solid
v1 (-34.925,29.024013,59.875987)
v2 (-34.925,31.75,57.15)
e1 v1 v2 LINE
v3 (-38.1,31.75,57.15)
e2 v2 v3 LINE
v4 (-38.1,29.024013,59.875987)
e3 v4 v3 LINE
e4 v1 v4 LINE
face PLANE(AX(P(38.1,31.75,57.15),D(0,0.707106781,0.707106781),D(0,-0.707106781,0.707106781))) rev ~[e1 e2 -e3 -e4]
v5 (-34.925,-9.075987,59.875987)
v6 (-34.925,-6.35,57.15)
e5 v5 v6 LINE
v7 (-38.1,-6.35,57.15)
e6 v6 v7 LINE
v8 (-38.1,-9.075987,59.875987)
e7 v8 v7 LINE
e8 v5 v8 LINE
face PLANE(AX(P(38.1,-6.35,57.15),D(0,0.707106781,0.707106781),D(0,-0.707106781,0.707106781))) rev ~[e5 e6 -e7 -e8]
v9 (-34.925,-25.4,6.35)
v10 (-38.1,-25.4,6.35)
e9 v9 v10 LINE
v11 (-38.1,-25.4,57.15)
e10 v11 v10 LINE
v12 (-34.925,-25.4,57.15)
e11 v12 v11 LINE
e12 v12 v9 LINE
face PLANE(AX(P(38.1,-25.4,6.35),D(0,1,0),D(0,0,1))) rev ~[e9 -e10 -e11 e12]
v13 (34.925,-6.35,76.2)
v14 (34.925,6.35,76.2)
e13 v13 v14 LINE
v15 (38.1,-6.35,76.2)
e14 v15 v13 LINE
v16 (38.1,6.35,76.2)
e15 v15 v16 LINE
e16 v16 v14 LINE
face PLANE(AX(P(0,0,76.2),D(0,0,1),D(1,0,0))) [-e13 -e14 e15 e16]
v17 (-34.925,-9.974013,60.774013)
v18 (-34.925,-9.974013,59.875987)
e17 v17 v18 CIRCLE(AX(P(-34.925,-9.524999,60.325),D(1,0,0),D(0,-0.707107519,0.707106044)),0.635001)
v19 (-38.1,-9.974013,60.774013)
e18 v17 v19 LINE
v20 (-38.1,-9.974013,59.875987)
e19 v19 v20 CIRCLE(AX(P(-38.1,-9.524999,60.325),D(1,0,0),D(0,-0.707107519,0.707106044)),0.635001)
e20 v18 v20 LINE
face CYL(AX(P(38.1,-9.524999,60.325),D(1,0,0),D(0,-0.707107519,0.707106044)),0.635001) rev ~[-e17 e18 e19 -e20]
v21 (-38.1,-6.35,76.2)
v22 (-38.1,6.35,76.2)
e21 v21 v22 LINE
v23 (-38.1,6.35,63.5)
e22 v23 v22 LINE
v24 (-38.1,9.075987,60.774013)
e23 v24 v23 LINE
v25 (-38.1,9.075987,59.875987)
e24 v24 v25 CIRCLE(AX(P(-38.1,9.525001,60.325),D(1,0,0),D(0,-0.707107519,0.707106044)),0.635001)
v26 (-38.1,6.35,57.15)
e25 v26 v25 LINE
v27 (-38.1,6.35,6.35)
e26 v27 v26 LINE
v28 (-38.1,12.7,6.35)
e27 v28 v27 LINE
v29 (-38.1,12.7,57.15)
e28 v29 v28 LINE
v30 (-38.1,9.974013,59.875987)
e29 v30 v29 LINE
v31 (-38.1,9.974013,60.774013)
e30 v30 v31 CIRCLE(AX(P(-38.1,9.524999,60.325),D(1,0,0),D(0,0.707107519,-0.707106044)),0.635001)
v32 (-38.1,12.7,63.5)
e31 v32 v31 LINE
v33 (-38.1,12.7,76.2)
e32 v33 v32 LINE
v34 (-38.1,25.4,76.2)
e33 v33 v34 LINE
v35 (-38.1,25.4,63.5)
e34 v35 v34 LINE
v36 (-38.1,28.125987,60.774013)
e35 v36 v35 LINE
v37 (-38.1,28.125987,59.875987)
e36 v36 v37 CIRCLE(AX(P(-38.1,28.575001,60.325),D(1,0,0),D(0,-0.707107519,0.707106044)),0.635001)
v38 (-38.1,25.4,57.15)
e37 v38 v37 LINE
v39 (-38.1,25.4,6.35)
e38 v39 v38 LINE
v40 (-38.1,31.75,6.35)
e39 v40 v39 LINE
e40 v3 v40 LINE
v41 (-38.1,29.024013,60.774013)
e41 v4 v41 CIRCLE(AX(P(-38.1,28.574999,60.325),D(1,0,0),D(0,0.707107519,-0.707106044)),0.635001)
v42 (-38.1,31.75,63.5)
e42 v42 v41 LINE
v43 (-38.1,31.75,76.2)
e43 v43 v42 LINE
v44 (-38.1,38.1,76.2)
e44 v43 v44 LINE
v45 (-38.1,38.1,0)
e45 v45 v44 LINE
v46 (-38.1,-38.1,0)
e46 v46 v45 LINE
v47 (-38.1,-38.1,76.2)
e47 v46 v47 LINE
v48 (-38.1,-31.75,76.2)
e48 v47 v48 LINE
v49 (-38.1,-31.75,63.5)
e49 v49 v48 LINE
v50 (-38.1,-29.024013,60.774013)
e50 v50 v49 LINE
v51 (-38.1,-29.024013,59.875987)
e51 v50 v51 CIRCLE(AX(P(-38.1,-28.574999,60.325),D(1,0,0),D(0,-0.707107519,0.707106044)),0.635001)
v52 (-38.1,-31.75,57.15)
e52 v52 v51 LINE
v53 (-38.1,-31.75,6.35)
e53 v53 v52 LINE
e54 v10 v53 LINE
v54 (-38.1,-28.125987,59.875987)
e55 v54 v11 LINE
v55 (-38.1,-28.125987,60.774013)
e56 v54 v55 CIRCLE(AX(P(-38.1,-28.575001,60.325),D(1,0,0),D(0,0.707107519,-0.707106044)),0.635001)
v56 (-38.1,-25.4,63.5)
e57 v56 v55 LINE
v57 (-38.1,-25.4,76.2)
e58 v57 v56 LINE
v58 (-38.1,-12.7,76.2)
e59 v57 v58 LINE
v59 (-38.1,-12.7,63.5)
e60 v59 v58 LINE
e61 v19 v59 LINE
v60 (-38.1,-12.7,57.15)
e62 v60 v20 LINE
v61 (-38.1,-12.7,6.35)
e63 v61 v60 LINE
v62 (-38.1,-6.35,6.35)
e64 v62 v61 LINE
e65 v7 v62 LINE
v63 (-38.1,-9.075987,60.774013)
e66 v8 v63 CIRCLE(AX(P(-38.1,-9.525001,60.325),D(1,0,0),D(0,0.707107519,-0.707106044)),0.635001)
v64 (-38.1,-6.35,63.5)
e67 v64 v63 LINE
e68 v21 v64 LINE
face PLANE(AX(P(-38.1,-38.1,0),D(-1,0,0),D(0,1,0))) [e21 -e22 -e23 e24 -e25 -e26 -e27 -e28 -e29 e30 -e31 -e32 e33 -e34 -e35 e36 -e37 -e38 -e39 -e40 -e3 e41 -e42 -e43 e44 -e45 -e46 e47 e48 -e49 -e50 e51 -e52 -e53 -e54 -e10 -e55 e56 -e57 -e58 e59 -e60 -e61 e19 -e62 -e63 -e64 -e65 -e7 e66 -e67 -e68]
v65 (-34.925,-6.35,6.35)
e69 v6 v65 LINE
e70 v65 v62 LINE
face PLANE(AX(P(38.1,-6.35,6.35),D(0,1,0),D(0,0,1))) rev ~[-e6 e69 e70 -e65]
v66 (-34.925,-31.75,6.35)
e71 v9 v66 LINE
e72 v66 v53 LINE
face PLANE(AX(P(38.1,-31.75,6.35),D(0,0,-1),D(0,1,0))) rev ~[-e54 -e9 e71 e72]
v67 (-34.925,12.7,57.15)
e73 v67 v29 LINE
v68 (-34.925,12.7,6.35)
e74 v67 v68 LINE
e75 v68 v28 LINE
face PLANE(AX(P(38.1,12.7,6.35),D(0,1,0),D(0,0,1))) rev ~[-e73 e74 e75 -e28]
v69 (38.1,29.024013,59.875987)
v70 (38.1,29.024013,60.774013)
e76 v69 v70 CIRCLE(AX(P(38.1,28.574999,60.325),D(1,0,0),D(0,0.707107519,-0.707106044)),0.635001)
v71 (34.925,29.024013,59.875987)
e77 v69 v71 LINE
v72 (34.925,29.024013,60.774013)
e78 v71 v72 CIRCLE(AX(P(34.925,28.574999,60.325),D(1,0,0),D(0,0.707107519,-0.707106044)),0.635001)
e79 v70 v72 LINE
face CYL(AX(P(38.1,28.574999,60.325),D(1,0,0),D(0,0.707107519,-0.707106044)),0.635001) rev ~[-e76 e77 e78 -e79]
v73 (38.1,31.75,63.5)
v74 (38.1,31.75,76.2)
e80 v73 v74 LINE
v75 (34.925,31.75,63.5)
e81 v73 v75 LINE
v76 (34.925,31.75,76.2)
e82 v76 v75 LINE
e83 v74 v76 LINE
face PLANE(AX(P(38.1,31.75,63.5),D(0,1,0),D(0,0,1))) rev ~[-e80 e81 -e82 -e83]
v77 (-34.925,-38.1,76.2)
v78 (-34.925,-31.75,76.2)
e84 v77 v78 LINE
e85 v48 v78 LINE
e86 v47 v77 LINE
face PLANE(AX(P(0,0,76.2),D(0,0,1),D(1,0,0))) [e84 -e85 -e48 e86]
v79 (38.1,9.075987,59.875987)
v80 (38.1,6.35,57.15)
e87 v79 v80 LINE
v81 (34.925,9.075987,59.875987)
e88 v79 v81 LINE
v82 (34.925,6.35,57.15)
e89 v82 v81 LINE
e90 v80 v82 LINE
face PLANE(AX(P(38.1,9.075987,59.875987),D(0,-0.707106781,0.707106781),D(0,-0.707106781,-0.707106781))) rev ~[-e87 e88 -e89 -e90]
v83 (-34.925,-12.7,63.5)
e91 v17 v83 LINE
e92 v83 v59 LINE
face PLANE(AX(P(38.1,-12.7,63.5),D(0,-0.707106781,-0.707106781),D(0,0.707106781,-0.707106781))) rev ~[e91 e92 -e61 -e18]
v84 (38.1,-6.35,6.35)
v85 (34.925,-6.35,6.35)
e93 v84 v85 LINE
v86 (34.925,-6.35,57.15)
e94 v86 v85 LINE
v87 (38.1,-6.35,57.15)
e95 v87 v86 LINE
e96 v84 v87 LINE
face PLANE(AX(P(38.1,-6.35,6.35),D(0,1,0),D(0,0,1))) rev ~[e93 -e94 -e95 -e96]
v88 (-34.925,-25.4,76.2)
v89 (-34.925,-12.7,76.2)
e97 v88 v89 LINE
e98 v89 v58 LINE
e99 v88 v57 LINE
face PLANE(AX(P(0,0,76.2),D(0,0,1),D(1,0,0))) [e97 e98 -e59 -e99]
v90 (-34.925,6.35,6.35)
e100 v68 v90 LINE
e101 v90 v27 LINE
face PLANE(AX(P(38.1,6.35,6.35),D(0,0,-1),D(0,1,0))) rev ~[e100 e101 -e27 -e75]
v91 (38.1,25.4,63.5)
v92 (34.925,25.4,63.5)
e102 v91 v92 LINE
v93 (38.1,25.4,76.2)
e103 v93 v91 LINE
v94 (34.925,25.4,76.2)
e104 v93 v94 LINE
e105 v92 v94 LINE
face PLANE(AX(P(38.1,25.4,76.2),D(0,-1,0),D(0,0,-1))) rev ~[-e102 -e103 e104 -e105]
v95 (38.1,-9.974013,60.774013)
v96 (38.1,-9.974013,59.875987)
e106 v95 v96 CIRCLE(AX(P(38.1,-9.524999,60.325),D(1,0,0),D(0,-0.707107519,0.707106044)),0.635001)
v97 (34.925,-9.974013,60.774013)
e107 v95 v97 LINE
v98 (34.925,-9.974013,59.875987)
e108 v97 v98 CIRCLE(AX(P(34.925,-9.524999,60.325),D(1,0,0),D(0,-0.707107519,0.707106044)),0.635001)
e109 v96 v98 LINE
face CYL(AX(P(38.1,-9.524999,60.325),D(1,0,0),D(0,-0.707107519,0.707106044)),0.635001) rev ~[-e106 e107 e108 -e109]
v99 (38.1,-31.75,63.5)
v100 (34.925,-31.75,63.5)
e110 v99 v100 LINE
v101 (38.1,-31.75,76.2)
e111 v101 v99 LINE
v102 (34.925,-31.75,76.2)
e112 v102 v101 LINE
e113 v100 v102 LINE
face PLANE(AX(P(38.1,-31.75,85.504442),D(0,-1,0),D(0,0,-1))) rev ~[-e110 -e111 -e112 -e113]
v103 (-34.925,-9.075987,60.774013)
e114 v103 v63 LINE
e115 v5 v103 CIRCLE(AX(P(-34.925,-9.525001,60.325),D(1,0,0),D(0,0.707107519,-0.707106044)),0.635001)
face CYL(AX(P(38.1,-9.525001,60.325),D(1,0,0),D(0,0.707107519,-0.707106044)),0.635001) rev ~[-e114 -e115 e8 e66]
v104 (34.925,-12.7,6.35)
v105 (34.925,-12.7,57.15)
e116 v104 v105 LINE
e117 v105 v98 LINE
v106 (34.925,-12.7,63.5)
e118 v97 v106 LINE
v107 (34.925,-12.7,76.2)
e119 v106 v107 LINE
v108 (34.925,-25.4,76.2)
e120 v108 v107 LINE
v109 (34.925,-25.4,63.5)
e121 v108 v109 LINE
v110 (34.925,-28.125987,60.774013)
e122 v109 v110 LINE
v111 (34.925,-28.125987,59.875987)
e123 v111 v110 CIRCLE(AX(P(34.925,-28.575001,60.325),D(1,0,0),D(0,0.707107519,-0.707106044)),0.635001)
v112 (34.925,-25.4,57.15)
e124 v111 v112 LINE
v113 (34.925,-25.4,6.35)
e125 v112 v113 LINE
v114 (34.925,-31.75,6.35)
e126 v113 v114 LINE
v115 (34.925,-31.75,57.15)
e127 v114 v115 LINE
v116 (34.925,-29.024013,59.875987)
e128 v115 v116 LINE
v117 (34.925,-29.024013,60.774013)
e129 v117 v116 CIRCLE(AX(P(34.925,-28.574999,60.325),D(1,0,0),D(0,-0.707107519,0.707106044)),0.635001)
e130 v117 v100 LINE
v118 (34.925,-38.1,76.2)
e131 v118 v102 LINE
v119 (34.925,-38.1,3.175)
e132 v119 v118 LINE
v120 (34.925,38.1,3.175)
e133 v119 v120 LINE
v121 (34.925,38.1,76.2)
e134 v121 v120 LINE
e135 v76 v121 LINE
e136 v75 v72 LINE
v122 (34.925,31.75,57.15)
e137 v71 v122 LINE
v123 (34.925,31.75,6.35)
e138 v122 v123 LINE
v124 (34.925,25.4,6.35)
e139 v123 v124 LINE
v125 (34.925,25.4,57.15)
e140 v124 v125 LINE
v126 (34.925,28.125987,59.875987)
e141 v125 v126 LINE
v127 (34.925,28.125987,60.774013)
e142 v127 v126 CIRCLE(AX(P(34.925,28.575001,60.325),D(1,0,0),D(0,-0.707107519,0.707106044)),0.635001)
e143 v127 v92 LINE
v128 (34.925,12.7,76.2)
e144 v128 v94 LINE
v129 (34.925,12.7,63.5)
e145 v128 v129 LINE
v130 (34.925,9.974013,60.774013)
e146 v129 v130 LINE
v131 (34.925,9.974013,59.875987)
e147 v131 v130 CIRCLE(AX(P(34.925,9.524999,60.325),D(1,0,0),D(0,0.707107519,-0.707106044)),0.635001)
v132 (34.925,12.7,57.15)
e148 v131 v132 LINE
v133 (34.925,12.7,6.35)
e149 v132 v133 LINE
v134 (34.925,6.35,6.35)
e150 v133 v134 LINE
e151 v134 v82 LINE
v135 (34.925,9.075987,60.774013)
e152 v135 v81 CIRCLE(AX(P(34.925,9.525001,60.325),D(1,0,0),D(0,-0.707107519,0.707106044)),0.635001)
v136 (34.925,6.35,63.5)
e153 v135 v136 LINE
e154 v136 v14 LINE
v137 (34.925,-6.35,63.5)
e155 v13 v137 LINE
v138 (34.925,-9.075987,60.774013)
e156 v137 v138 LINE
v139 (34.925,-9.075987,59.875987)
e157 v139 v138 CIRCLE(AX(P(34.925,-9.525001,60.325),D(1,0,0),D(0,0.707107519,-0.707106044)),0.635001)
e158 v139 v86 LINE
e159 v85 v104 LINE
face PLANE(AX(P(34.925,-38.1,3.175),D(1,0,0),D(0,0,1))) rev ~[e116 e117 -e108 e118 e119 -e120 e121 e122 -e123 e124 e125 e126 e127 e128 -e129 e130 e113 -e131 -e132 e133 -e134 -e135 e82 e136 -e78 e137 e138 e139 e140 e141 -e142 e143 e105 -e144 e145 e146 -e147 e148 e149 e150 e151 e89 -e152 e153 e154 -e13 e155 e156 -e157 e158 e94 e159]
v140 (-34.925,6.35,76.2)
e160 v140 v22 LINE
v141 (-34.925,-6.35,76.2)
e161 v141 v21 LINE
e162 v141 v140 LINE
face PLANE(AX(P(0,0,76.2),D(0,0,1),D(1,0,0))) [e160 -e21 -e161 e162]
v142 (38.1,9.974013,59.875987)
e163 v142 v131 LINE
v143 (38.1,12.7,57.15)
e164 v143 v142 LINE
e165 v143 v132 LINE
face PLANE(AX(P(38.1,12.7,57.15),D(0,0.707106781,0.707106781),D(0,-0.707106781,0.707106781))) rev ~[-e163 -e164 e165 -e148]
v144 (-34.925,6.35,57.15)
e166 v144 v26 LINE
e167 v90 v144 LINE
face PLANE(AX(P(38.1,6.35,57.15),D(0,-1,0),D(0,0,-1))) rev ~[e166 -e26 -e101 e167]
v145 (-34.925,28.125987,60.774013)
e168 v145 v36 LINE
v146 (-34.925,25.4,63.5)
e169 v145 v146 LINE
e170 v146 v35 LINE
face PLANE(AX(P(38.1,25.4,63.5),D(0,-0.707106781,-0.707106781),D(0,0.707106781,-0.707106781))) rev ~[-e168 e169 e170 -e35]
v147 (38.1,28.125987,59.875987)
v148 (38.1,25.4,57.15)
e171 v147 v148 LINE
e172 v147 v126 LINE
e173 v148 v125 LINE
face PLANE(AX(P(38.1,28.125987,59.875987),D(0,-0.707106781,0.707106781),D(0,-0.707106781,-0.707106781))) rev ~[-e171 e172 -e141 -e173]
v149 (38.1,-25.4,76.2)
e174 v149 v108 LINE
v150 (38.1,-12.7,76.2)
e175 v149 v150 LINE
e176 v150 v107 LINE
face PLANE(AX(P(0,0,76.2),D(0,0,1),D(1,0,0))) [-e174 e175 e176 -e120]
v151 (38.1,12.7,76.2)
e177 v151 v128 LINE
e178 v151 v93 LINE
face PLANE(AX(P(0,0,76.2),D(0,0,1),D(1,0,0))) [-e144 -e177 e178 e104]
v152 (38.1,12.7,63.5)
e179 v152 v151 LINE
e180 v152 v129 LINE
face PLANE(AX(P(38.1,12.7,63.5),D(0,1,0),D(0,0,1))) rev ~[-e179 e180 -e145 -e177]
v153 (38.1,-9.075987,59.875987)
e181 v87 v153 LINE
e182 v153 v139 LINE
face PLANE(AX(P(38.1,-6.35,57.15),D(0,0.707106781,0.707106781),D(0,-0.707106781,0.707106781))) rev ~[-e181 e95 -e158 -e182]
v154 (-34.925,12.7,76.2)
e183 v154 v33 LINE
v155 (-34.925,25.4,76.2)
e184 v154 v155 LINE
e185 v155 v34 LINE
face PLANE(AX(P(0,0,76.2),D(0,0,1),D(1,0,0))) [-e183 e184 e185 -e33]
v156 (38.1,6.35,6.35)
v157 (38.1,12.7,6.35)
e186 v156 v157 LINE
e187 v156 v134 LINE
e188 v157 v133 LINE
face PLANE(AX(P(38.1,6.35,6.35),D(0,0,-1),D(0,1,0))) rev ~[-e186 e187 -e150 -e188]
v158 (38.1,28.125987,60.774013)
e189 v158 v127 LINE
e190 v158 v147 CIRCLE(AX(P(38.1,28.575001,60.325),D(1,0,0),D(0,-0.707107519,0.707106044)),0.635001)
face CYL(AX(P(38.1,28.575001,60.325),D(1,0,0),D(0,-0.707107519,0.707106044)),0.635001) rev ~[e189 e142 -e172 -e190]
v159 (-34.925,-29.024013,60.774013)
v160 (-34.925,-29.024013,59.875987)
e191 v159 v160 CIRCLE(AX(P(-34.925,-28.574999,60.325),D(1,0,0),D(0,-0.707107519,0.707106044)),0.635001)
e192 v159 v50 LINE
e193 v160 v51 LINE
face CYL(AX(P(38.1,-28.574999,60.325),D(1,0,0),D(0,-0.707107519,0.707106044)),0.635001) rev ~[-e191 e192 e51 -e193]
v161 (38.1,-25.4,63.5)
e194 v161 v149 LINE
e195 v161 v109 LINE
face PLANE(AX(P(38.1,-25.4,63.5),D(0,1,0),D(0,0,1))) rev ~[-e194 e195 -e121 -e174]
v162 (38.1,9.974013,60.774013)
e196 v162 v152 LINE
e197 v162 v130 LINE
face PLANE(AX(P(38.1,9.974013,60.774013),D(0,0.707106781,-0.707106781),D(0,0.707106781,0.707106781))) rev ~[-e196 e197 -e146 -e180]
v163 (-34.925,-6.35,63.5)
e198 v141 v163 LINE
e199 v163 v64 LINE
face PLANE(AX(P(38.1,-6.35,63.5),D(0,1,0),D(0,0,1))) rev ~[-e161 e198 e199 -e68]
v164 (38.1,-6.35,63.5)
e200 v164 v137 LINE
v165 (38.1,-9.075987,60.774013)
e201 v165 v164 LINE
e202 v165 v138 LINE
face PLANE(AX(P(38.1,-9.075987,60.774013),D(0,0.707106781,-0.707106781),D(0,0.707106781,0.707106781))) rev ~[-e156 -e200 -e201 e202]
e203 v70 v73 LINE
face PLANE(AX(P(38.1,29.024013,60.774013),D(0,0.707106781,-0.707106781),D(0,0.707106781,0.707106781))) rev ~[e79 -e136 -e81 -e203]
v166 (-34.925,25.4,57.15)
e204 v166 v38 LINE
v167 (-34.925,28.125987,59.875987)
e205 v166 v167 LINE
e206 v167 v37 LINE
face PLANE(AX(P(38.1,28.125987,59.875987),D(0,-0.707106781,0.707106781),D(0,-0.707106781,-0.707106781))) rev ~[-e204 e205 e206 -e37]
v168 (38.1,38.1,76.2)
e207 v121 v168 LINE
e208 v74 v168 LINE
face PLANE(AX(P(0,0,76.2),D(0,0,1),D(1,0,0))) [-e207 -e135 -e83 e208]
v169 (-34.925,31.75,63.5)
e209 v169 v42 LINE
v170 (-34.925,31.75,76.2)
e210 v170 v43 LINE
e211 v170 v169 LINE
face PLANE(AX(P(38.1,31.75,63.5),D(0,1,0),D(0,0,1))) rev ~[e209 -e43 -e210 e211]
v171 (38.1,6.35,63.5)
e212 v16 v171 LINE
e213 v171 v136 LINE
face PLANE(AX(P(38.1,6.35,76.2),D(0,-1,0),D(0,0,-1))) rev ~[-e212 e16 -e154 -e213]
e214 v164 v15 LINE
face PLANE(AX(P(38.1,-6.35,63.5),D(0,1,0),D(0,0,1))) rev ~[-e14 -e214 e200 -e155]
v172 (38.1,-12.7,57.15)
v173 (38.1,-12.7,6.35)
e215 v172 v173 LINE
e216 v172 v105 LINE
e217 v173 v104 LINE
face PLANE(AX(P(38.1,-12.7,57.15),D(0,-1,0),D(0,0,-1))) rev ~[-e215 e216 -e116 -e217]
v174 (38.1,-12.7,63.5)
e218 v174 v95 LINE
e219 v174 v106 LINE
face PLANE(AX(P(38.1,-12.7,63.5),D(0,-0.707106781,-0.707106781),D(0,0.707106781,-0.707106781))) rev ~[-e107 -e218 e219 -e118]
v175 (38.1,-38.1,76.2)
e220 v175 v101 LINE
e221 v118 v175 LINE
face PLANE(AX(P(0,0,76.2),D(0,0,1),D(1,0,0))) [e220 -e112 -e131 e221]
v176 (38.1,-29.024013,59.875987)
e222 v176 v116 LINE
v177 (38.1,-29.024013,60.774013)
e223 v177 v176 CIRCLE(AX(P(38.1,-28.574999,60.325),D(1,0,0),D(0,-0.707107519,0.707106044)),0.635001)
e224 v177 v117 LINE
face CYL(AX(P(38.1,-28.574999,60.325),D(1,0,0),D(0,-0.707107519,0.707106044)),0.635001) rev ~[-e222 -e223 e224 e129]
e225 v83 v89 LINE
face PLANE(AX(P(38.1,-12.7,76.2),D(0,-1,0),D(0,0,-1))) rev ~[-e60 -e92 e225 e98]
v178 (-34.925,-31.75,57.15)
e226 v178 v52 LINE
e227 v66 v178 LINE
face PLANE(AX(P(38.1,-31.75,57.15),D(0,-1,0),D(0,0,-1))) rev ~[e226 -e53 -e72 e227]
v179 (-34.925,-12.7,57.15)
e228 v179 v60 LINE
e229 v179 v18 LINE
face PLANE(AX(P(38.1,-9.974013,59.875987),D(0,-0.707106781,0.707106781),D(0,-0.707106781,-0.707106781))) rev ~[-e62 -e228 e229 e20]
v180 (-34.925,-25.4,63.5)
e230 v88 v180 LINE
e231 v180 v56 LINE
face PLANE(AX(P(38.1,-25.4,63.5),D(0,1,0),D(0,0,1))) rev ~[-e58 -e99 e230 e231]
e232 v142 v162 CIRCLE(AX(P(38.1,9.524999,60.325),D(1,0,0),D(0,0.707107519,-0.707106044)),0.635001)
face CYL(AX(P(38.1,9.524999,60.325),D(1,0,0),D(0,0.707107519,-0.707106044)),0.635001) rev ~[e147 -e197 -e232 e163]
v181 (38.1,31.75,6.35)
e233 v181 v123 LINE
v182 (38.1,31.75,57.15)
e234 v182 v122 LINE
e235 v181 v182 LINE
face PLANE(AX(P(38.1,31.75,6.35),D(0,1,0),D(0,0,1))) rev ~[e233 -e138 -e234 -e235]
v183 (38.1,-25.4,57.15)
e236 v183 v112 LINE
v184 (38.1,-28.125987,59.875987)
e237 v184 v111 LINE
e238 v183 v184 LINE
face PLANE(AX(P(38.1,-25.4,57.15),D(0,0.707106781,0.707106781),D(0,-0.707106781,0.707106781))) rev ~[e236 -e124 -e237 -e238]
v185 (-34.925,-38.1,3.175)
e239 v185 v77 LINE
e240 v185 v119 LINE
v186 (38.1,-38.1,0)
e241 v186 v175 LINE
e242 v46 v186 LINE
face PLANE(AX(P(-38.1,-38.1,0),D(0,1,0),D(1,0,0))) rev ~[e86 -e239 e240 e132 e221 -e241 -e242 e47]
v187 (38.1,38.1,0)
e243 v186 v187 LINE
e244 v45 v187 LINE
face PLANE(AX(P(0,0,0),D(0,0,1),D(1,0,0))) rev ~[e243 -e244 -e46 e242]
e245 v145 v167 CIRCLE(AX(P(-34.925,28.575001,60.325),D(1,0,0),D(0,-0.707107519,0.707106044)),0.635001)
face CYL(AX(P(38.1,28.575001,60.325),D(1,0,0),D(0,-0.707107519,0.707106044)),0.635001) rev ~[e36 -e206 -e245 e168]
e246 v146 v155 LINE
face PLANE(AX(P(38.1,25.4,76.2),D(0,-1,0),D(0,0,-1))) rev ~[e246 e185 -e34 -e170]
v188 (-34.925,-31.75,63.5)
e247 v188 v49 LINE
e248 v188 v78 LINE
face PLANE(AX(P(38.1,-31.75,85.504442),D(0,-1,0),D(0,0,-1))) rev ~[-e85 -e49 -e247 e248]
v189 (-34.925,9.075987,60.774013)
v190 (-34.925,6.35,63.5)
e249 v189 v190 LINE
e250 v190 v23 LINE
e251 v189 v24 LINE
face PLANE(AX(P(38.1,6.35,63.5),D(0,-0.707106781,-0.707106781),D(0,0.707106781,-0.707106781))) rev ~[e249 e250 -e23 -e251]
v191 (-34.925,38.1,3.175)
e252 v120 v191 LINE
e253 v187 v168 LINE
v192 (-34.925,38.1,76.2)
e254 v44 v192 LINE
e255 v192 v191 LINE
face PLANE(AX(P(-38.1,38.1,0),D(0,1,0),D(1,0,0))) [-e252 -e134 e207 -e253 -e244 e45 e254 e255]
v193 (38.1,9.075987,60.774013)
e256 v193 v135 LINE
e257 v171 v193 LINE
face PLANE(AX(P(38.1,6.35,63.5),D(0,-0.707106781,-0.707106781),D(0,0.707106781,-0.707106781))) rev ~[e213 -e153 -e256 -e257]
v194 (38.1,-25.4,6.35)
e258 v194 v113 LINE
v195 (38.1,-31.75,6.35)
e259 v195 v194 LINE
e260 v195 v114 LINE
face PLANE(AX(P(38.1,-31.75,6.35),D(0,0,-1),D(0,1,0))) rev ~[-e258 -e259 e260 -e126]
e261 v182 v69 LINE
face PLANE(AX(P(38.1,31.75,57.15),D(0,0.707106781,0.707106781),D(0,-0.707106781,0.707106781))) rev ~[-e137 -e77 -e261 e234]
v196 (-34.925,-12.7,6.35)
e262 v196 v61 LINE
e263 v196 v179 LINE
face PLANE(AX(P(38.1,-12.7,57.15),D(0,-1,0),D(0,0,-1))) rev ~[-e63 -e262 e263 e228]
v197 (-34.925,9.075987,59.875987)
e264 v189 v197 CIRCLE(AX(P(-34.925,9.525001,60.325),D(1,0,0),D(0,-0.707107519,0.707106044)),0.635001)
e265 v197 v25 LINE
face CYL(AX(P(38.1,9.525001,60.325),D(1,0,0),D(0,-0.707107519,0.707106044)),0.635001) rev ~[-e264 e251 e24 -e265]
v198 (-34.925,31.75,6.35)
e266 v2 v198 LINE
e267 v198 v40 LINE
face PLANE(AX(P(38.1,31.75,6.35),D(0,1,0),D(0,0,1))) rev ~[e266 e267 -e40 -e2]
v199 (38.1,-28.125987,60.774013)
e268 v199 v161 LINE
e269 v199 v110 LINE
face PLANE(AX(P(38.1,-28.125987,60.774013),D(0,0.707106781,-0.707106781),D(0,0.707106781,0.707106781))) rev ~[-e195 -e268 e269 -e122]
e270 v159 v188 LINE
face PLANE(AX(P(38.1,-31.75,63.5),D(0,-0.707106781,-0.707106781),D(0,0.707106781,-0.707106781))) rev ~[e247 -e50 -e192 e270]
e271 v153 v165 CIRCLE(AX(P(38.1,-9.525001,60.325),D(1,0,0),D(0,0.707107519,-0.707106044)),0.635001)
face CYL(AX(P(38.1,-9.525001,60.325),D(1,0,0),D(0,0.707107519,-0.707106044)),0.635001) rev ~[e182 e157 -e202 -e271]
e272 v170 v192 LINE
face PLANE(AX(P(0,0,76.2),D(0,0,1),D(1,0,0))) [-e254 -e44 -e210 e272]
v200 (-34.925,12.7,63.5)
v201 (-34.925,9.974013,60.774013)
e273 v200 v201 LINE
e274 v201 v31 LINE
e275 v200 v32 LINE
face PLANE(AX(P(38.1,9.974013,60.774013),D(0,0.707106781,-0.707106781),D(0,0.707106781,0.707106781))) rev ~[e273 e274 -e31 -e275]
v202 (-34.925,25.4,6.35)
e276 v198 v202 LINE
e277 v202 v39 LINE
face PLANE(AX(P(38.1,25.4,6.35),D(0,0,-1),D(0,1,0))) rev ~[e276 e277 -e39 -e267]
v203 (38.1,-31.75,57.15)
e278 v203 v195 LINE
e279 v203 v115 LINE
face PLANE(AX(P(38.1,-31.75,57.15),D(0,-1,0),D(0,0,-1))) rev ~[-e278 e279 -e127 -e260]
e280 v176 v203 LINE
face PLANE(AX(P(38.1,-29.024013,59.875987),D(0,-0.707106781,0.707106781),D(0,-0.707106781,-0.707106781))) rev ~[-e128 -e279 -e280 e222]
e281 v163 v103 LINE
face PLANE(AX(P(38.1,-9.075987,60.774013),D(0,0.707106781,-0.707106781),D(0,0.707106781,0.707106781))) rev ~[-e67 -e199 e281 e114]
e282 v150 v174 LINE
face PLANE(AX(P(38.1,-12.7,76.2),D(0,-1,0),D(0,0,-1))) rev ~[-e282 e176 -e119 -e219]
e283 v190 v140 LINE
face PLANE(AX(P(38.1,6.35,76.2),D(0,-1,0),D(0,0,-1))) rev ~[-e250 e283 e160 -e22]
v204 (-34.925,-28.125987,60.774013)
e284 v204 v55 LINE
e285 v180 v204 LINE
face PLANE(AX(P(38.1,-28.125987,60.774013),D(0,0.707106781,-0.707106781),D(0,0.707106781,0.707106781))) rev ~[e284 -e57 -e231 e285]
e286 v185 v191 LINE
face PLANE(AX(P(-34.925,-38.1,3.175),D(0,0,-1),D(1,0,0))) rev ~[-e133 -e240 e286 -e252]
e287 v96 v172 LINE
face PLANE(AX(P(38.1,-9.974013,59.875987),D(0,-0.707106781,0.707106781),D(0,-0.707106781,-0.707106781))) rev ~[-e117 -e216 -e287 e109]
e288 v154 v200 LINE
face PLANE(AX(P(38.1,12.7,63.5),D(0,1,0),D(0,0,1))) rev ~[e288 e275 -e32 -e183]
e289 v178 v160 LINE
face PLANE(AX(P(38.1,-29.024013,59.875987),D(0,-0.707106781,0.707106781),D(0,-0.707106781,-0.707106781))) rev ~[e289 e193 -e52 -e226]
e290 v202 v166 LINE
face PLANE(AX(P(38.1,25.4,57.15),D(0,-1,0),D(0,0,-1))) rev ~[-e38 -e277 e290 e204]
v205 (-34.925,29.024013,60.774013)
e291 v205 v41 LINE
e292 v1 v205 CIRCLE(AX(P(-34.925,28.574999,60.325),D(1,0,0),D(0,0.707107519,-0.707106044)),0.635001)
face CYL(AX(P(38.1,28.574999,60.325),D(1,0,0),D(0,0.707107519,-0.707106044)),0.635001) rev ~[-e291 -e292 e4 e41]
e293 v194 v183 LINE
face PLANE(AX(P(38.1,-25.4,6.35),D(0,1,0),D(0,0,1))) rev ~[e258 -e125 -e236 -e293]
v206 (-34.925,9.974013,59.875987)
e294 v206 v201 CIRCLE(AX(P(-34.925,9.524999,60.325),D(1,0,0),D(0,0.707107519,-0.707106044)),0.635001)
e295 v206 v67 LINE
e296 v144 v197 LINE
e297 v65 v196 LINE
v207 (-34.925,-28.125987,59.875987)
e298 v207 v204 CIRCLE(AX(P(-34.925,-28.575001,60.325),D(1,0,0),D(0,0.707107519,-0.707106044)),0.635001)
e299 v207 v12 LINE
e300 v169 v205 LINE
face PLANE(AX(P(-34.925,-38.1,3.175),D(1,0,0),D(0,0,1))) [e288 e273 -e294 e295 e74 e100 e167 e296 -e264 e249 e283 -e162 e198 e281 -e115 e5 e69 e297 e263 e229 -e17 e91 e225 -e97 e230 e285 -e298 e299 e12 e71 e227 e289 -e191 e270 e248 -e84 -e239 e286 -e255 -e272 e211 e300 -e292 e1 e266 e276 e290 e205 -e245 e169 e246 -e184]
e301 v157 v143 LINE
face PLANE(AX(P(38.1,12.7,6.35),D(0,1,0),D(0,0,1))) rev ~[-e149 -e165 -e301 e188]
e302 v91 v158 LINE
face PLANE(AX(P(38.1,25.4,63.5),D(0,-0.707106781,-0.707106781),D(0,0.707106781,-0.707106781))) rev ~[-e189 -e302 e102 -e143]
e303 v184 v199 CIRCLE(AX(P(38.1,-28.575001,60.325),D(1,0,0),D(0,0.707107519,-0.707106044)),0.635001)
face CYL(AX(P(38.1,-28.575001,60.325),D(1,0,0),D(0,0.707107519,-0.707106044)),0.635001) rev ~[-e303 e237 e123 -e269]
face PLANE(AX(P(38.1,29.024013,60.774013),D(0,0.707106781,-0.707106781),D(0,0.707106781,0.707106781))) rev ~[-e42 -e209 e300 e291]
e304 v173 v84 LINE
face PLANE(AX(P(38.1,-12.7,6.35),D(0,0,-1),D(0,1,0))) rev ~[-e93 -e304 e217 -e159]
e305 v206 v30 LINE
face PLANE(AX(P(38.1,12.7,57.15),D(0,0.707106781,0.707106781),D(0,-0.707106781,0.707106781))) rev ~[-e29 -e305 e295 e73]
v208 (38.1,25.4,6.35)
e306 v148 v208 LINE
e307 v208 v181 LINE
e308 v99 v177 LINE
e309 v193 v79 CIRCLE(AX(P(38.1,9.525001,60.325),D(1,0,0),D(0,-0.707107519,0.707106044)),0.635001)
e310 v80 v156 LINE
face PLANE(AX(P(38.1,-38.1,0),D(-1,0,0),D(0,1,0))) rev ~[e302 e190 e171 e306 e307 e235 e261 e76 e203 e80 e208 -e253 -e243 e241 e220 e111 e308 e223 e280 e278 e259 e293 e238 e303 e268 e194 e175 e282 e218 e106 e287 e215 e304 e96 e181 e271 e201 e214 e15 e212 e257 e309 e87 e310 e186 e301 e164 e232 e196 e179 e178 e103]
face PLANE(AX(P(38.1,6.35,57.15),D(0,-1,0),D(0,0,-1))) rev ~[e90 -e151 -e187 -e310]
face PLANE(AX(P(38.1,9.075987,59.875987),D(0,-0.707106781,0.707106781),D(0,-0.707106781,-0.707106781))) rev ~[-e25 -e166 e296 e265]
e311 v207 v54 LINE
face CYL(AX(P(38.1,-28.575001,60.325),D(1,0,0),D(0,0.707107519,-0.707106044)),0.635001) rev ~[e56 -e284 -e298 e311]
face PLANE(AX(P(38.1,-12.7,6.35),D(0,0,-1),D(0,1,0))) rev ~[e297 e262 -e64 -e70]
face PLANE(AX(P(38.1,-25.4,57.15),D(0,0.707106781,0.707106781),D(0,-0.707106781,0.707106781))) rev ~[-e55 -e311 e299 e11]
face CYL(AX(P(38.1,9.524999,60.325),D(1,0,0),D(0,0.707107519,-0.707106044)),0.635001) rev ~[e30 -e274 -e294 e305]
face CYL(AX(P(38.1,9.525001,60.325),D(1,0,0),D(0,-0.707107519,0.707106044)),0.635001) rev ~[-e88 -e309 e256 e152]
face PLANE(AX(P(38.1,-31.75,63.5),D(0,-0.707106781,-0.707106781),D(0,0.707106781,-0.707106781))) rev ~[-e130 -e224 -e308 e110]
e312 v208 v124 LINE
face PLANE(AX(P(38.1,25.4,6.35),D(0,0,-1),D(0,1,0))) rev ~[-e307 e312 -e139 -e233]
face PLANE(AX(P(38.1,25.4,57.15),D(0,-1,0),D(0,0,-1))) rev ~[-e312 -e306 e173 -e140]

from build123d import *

# Parameters (mm, degrees)
F0_W     = 76.2
F0_H     = 76.2
F1_DEPTH = 76.2
F3_DEPTH = 131.88104
F4_W     = 69.85
F4_H     = 73.025
F5_DEPTH = 151.50575


with BuildPart() as f1:
    # F0 (on Top) → F1 (new body)
    with BuildSketch(Plane.XY):
        Rectangle(F0_W, F0_H)
    extrude(amount=F1_DEPTH)

    # F2 (on face) → F3 (cut)
    with BuildSketch(Plane.YZ.offset(38.1)):
        with BuildLine():
            Line((-25.4, 63.5), (-25.4, 76.2))
            Line((-25.4, 76.2), (-31.75, 76.2))
            Line((-31.75, 76.2), (-31.75, 63.5))
            Line((-31.75, 63.5), (-29.024013, 60.774013))
            ThreePointArc((-29.024013, 60.774013), (-29.21, 60.325), (-29.024013, 59.875987))
            Line((-29.024013, 59.875987), (-31.75, 57.15))
            Line((-31.75, 57.15), (-31.75, 6.35))
            Line((-31.75, 6.35), (-25.4, 6.35))
            Line((-25.4, 6.35), (-25.4, 57.15))
            Line((-25.4, 57.15), (-28.125987, 59.875987))
            ThreePointArc((-28.125987, 59.875987), (-27.94, 60.325), (-28.125987, 60.774013))
            Line((-28.125987, 60.774013), (-25.4, 63.5))
        make_face()
        with BuildLine():
            Line((-6.35, 63.5), (-6.35, 76.2))
            Line((-6.35, 76.2), (-12.7, 76.2))
            Line((-12.7, 76.2), (-12.7, 63.5))
            Line((-12.7, 63.5), (-9.974013, 60.774013))
            ThreePointArc((-9.974013, 60.774013), (-10.16, 60.325), (-9.974013, 59.875987))
            Line((-9.974013, 59.875987), (-12.7, 57.15))
            Line((-12.7, 57.15), (-12.7, 6.35))
            Line((-12.7, 6.35), (-6.35, 6.35))
            Line((-6.35, 6.35), (-6.35, 57.15))
            Line((-6.35, 57.15), (-9.075987, 59.875987))
            ThreePointArc((-9.075987, 59.875987), (-8.89, 60.325), (-9.075987, 60.774013))
            Line((-9.075987, 60.774013), (-6.35, 63.5))
        make_face()
        with BuildLine():
            Line((12.7, 76.2), (6.35, 76.2))
            Line((6.35, 76.2), (6.35, 63.5))
            Line((6.35, 63.5), (9.075987, 60.774013))
            ThreePointArc((9.075987, 60.774013), (8.89, 60.325), (9.075987, 59.875987))
            Line((9.075987, 59.875987), (6.35, 57.15))
            Line((6.35, 57.15), (6.35, 6.35))
            Line((6.35, 6.35), (12.7, 6.35))
            Line((12.7, 6.35), (12.7, 57.15))
            Line((12.7, 57.15), (9.974013, 59.875987))
            ThreePointArc((9.974013, 59.875987), (10.16, 60.325), (9.974013, 60.774013))
            Line((9.974013, 60.774013), (12.7, 63.5))
            Line((12.7, 63.5), (12.7, 76.2))
        make_face()
        with BuildLine():
            Line((31.75, 76.2), (25.4, 76.2))
            Line((25.4, 76.2), (25.4, 63.5))
            Line((25.4, 63.5), (28.125987, 60.774013))
            ThreePointArc((28.125987, 60.774013), (27.94, 60.325), (28.125987, 59.875987))
            Line((28.125987, 59.875987), (25.4, 57.15))
            Line((25.4, 57.15), (25.4, 6.35))
            Line((25.4, 6.35), (31.75, 6.35))
            Line((31.75, 6.35), (31.75, 57.15))
            Line((31.75, 57.15), (29.024013, 59.875987))
            ThreePointArc((29.024013, 59.875987), (29.21, 60.325), (29.024013, 60.774013))
            Line((29.024013, 60.774013), (31.75, 63.5))
            Line((31.75, 63.5), (31.75, 76.2))
        make_face()
        Polygon((-12.7, 76.2), (-6.35, 76.2), (6.35, 76.2), (12.7, 76.2), (25.4, 76.2), (31.75, 76.2), (31.627543, 85.504442), (-31.75, 85.504442), (-31.75, 76.2), (-25.4, 76.2), align=None)
    extrude(amount=-F3_DEPTH, mode=Mode.SUBTRACT)

    # F4 (on face) → F5 (cut)
    with BuildSketch(Plane.XZ.offset(38.1)):
        with Locations((0, 39.6875)):
            Rectangle(F4_W, F4_H)
    extrude(amount=-F5_DEPTH, mode=Mode.SUBTRACT)


solid = f1.part
